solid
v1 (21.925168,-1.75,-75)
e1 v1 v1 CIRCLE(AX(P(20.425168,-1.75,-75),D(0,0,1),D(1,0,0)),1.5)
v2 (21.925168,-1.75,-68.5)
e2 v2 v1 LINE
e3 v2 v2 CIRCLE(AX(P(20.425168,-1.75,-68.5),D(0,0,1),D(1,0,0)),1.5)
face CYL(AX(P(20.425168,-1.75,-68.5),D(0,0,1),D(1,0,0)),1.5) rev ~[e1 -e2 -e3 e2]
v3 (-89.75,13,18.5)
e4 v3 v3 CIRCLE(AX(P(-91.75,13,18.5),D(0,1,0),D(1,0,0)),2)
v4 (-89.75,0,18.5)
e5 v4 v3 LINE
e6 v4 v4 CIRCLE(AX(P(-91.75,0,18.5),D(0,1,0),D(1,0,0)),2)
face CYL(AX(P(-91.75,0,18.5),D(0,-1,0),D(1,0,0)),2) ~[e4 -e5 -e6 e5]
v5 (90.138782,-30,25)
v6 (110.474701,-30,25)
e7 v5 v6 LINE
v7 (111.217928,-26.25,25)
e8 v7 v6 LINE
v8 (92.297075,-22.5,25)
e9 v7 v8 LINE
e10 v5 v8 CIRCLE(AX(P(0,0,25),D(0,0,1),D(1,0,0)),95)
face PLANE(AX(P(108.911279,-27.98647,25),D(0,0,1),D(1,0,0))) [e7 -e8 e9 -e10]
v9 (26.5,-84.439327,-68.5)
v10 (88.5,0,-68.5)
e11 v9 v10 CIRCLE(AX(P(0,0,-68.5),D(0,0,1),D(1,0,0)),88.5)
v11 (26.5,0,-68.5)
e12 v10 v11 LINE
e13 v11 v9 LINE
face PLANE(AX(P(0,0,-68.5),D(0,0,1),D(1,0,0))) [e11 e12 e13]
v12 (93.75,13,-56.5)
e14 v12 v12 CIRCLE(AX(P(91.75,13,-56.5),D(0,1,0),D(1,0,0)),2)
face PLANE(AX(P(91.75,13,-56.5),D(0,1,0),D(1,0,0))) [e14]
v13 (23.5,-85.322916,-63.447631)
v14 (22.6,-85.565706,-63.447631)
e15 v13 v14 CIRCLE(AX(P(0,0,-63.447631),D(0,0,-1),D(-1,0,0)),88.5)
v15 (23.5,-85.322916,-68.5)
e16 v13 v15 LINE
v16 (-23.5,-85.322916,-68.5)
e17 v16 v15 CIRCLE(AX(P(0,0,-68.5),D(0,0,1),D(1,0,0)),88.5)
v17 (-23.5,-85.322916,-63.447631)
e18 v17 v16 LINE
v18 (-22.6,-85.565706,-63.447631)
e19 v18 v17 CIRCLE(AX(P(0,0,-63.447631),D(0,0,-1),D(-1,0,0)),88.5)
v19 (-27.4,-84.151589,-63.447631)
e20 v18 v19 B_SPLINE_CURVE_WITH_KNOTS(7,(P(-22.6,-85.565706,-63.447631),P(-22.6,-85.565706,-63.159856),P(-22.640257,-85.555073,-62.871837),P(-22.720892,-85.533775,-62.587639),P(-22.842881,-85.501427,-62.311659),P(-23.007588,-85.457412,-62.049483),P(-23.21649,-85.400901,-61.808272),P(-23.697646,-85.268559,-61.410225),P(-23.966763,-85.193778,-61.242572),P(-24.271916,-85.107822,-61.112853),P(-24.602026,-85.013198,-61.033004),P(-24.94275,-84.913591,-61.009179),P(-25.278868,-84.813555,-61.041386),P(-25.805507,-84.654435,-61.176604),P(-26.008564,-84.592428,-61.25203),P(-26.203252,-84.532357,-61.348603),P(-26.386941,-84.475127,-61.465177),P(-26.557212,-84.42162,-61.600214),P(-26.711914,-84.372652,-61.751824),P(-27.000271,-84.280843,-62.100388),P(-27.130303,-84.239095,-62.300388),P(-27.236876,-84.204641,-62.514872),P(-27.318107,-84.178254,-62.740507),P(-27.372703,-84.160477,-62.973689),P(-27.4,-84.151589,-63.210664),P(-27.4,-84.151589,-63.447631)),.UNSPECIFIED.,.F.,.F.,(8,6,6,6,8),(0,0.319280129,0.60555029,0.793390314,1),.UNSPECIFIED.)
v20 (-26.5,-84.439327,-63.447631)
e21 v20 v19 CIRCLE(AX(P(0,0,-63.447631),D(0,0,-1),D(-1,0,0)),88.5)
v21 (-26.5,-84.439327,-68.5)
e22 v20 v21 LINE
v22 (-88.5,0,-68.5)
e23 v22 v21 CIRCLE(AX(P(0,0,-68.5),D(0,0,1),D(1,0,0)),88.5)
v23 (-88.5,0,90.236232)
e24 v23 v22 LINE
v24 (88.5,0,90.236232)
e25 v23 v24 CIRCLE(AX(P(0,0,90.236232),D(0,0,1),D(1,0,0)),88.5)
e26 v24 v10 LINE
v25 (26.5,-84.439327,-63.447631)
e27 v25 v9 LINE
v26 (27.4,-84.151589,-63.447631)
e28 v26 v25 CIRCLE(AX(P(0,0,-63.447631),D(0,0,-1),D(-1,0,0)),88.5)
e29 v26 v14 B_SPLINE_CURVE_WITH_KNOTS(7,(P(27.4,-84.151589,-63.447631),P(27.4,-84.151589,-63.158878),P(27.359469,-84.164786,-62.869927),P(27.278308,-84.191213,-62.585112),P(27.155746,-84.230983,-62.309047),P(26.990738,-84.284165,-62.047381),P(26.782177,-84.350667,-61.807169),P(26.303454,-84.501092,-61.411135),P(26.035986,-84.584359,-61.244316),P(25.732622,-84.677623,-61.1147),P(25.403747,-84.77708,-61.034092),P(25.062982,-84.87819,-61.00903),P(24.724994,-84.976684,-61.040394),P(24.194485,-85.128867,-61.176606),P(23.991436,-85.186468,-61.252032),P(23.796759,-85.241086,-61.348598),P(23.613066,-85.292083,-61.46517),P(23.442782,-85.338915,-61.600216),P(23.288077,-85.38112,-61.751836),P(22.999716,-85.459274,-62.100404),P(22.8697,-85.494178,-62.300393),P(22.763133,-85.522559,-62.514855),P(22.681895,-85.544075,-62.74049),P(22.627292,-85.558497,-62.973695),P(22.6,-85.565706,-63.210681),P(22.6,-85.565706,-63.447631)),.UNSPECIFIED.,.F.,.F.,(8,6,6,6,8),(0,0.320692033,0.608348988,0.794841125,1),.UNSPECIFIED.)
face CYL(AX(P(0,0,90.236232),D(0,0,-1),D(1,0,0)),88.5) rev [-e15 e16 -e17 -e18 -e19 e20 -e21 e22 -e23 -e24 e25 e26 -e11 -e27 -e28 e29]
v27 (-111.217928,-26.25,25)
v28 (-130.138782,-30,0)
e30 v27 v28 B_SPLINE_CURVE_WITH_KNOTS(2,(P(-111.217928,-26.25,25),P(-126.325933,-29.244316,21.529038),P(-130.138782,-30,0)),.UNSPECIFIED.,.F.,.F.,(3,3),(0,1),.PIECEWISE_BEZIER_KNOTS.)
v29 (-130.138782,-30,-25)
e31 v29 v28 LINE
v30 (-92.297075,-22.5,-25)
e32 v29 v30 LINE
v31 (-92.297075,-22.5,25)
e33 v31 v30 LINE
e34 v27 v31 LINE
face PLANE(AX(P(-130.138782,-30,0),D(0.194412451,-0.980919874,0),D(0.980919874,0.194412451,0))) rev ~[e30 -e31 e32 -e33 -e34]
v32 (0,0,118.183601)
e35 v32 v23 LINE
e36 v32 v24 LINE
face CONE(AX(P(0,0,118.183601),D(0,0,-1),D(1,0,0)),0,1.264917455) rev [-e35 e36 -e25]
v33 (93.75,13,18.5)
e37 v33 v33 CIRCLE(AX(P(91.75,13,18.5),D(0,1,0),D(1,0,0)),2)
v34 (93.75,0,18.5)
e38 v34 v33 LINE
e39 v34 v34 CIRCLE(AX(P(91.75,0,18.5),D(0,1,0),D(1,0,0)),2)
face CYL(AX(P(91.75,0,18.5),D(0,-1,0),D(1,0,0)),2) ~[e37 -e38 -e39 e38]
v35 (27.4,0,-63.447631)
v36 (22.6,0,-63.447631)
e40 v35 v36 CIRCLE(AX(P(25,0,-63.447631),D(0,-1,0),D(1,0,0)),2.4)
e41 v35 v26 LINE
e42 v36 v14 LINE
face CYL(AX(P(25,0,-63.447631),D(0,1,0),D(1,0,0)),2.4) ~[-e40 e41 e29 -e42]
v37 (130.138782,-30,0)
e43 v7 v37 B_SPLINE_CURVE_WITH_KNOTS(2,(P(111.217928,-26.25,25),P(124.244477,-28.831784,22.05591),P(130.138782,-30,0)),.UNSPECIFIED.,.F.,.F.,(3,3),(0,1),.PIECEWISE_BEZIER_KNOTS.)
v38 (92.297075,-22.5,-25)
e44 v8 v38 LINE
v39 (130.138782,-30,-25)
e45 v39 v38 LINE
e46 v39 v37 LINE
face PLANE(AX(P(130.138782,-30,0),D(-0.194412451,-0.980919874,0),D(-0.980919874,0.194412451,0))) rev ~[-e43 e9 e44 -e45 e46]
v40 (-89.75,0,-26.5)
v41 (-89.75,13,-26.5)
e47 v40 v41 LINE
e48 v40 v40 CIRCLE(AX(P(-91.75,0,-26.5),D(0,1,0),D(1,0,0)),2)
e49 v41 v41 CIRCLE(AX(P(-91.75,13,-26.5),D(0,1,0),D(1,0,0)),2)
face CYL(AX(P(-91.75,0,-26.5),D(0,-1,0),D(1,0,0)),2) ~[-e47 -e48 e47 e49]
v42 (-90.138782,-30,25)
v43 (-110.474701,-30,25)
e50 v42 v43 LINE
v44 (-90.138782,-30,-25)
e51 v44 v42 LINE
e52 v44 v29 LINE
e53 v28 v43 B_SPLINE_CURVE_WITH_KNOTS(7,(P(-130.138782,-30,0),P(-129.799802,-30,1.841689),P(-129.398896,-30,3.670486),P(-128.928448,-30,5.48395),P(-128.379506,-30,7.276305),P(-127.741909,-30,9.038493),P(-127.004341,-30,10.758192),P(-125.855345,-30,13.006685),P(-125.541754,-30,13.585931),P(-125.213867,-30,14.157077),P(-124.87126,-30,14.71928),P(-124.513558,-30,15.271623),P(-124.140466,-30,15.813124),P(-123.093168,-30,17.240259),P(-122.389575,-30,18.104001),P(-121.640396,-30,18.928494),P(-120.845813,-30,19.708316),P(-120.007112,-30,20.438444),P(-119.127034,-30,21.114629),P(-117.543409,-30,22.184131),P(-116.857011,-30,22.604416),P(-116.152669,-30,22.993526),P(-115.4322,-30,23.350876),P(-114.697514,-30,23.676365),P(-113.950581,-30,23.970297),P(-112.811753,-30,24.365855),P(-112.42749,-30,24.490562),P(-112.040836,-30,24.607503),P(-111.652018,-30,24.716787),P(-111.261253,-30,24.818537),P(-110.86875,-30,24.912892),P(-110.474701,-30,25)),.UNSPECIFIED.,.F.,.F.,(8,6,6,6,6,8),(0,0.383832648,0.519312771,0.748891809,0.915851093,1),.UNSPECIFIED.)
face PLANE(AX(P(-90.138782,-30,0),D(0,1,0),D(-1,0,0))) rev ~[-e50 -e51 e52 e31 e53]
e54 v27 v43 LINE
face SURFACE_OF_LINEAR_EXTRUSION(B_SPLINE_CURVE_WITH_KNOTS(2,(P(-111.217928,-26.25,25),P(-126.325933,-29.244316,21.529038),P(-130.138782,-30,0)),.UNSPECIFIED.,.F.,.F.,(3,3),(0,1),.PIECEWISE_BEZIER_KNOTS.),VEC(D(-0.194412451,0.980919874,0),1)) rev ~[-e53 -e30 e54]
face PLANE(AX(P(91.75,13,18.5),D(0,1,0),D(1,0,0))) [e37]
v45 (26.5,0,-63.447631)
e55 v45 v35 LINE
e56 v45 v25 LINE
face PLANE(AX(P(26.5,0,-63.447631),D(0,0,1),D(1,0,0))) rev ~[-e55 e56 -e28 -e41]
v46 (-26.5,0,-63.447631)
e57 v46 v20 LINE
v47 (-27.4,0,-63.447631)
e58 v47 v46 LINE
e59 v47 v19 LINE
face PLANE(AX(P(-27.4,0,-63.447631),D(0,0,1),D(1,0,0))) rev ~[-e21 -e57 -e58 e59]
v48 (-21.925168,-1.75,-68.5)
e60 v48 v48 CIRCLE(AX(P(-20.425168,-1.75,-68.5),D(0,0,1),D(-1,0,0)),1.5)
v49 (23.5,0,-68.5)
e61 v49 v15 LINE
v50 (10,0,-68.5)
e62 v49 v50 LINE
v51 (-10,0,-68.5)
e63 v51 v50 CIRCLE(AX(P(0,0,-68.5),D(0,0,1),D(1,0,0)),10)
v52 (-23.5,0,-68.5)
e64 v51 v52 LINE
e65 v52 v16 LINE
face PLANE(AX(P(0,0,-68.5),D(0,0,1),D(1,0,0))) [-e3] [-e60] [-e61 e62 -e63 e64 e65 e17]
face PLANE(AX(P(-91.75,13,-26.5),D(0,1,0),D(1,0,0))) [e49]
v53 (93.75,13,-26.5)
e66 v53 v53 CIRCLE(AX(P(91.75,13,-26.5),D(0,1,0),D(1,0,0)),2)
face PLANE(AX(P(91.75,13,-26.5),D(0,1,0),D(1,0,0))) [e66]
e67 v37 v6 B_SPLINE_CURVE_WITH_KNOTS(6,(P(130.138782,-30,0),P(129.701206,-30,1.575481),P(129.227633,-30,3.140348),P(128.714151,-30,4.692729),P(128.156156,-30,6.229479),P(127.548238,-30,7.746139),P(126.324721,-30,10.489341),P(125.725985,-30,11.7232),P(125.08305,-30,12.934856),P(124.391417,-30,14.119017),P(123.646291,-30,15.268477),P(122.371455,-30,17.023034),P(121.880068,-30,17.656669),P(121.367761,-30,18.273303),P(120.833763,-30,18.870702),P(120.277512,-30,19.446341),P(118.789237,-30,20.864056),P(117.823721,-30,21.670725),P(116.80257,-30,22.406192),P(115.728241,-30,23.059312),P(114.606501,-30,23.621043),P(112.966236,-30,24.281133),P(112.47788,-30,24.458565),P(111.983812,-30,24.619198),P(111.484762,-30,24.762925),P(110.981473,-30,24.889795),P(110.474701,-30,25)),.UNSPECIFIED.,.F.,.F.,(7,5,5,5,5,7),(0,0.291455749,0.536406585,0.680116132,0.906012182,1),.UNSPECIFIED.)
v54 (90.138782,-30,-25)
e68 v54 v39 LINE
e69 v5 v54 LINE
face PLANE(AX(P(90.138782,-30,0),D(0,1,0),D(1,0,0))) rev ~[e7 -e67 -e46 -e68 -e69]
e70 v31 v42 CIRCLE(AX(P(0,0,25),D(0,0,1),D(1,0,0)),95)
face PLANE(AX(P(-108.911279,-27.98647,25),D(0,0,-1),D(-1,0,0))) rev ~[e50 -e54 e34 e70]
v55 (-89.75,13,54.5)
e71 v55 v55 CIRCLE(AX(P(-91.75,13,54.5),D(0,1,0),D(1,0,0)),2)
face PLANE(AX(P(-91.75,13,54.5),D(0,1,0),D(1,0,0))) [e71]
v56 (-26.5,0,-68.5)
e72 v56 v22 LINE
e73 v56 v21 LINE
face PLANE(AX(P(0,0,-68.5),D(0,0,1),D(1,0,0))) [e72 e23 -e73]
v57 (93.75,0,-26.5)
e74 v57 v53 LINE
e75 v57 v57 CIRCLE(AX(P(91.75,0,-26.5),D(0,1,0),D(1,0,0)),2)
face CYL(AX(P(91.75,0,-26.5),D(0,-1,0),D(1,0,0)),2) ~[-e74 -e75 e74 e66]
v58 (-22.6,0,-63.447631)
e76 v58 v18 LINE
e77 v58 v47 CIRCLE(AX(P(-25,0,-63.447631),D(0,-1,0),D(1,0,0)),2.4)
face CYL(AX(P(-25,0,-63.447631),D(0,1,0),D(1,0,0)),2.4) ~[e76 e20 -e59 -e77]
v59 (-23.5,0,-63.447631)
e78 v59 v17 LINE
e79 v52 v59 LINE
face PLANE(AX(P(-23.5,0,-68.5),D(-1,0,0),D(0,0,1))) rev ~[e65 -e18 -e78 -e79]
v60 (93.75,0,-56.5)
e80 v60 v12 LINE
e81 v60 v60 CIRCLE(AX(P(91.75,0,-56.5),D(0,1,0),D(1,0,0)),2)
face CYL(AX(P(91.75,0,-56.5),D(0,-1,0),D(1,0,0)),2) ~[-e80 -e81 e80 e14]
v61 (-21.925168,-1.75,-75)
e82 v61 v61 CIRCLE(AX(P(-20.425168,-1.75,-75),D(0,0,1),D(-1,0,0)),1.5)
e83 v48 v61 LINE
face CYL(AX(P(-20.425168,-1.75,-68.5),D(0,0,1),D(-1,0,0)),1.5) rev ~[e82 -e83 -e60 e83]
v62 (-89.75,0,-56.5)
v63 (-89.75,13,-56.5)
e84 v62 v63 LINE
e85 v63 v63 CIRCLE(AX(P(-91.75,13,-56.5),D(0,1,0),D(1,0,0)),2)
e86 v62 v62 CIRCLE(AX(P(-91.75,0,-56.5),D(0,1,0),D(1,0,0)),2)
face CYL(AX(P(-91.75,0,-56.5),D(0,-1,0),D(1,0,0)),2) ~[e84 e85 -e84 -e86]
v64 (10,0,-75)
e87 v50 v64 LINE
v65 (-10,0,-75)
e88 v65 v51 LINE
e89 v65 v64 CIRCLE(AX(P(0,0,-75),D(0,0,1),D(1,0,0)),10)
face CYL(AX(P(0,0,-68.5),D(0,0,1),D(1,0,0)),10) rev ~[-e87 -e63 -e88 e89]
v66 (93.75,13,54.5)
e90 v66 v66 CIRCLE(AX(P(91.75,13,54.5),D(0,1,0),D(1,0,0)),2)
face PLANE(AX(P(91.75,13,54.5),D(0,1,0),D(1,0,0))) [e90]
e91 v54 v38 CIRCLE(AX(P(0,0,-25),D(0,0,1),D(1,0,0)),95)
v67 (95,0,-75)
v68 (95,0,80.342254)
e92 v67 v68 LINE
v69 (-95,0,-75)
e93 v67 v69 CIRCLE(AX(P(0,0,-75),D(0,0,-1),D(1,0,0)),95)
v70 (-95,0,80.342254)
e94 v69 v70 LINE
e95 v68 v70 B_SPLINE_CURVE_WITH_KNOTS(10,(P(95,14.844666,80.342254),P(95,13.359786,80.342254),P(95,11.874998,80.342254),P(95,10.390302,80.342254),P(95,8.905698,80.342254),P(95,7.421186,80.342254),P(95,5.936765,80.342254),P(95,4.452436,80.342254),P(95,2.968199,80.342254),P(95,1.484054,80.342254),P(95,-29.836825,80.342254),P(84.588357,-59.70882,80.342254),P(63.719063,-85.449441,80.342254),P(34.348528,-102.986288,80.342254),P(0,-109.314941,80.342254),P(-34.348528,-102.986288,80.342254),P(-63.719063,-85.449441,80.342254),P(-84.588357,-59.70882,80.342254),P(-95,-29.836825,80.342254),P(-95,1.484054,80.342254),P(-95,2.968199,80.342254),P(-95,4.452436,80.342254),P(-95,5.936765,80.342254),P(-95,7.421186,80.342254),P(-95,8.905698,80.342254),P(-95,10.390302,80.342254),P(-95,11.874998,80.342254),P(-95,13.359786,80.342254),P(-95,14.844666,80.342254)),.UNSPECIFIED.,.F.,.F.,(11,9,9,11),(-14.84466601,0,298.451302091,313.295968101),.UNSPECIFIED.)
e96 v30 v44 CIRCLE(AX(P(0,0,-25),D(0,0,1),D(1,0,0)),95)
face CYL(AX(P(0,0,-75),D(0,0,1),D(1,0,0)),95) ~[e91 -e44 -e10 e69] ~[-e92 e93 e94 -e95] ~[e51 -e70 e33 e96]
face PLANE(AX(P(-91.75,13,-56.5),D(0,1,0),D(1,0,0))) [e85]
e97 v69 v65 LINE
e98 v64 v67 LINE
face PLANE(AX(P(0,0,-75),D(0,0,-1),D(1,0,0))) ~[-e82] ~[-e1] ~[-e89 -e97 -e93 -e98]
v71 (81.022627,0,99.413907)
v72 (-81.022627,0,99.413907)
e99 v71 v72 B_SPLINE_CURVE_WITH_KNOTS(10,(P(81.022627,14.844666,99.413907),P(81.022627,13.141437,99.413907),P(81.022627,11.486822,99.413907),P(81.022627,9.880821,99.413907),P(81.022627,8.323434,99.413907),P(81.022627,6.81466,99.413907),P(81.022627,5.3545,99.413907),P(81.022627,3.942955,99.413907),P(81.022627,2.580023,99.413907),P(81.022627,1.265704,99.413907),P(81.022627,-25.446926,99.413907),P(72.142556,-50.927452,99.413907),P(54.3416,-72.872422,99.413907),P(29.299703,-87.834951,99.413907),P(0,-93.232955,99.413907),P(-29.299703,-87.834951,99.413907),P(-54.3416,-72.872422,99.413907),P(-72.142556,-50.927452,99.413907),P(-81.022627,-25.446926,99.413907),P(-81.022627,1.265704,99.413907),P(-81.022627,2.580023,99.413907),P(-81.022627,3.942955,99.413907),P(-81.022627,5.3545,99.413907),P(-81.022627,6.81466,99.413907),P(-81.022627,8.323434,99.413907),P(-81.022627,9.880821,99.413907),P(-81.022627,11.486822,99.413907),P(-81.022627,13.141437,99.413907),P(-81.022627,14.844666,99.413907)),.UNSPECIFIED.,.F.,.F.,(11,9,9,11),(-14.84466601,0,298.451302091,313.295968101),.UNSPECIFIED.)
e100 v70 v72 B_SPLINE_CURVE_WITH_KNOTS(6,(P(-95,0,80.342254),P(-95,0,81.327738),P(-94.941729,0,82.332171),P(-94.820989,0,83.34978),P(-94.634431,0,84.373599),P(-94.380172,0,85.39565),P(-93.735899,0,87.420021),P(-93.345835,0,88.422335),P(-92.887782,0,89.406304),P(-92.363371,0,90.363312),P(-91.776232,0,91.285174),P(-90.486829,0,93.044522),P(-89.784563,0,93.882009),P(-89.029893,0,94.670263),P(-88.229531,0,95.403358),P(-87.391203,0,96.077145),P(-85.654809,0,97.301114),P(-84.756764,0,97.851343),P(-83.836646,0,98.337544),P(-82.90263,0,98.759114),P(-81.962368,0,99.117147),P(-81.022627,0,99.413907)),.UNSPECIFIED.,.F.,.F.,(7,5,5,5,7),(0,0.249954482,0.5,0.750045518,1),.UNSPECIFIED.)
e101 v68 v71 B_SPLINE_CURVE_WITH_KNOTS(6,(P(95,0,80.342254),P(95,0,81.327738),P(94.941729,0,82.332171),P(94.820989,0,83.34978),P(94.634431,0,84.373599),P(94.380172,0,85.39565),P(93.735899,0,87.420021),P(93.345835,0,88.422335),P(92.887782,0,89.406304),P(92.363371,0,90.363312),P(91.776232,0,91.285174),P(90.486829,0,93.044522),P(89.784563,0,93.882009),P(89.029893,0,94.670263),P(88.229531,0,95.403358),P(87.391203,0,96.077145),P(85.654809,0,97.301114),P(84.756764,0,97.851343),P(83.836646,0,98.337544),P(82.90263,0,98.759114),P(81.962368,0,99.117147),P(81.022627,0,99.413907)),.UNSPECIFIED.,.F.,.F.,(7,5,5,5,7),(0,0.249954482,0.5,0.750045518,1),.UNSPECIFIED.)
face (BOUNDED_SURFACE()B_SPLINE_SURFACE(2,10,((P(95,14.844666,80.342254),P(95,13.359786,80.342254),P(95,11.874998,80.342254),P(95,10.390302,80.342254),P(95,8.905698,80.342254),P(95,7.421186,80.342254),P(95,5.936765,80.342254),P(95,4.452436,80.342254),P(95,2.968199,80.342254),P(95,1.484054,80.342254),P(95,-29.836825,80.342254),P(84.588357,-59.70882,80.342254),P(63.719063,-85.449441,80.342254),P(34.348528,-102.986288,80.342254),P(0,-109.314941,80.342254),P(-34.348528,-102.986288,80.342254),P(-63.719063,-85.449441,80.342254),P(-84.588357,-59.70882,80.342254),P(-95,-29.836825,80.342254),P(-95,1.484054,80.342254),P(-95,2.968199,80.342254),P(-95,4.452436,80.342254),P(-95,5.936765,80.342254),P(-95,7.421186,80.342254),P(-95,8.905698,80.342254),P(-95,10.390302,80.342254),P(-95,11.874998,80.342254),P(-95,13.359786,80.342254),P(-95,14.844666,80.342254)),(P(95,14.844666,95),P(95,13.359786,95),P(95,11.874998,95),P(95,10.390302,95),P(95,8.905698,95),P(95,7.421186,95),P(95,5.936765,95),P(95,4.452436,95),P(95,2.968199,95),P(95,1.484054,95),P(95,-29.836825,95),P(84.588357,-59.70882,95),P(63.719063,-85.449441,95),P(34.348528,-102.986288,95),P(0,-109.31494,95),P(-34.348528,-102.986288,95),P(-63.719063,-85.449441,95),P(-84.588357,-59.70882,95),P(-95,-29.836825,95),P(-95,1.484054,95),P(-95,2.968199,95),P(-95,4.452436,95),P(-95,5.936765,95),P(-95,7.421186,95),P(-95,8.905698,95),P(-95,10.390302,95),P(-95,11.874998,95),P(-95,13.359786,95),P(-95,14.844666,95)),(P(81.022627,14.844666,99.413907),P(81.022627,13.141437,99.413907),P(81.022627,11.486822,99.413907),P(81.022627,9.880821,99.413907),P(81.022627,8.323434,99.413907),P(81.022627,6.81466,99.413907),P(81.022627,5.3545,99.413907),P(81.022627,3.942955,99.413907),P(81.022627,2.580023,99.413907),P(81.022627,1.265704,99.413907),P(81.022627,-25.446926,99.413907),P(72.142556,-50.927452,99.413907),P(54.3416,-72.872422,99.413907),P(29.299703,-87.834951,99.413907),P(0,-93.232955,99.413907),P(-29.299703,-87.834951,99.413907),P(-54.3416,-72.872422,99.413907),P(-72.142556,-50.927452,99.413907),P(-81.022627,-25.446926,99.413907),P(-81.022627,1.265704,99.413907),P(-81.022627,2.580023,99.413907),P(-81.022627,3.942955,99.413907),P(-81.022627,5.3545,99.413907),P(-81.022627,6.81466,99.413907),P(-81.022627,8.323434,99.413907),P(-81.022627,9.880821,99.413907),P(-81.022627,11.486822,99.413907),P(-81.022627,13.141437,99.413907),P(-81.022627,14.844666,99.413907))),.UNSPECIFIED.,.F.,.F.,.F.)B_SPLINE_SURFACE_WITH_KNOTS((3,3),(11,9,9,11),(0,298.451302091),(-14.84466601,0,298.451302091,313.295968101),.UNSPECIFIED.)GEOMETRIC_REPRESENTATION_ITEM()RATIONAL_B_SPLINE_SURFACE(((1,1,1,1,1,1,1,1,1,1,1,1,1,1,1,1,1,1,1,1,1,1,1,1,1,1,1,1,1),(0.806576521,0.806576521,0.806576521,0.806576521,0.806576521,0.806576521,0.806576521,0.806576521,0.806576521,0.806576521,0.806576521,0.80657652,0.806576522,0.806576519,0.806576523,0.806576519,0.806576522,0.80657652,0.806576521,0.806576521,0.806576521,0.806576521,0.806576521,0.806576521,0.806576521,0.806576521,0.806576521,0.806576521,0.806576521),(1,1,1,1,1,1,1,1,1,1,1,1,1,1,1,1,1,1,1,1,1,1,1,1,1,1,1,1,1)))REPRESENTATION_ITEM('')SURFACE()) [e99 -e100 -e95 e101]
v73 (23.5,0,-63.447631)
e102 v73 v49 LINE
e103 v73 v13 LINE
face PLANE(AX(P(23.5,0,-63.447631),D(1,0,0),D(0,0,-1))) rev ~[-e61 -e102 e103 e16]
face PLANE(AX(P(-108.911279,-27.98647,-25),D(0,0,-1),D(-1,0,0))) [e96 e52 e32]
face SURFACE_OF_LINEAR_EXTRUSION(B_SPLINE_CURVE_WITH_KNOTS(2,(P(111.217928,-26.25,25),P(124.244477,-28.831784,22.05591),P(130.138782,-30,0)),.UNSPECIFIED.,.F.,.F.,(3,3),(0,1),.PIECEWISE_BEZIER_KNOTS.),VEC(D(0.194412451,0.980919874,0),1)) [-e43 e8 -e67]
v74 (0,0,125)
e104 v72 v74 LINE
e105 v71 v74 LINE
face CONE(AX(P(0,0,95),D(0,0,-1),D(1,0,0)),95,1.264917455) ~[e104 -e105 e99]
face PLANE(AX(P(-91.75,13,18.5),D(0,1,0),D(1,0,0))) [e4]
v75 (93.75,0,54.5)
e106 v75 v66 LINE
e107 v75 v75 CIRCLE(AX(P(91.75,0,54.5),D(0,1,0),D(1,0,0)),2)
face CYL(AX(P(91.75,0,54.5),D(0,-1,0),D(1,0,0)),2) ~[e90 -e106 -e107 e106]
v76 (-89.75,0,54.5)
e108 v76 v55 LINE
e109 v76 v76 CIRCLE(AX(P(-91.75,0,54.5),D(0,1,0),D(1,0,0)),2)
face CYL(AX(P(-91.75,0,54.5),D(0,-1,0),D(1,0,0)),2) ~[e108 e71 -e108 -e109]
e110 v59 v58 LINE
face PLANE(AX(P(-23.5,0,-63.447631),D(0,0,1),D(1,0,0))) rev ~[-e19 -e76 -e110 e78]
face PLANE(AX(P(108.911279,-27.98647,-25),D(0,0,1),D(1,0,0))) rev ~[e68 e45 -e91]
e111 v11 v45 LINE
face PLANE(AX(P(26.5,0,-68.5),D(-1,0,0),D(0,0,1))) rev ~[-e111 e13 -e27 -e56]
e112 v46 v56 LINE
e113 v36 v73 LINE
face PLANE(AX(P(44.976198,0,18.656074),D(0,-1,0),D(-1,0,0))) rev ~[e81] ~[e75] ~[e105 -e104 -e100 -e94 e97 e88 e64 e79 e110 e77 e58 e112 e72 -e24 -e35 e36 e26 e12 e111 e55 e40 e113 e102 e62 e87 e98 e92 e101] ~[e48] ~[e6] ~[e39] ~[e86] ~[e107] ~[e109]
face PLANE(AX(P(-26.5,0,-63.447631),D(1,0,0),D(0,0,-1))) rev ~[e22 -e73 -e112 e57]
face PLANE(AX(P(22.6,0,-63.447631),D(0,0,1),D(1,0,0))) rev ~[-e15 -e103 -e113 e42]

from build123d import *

# Parameters (mm, degrees)
REVOLVE1_ANGLE           = 180
SKETCH3_R                = 2
BOSS_EXTRUDE1_DEPTH      = 13
BOSS_EXTRUDE8_REACH      = 185.507
BOSS_EXTRUDE8_END_RADIUS = 88.5
SKETCH7_R                = 10
SKETCH7_R_2              = 1.5
CUT_EXTRUDE1_DEPTH       = 10
BOSS_EXTRUDE11_DEPTH     = 25
FILLET1_R                = 20
CUT_EXTRUDE2_DEPTH       = 10
CUT_EXTRUDE3_DEPTH       = 10


with BuildPart() as part:
    # Sketch1 → Revolve1 (revolve)
    with BuildSketch(Plane(origin=(0, 0, 0), x_dir=(1, 0, 0), z_dir=(0, 1, 0))):
        Polygon((0, 75), (95, 75), (95, -95), (0, -125), align=None)
    revolve(axis=Axis((0, 0, 125), (0, 0, -1)), revolution_arc=REVOLVE1_ANGLE)

    # Sketch2 → Cut-Revolve3 (revolve, cut)
    with BuildSketch(Plane(origin=(0, 0, 0), x_dir=(1, 0, 0), z_dir=(0, 1, 0))):
        Polygon((0, 68.5), (0, -118.183600921), (88.5, -90.2362325), (88.5, 68.5), align=None)
    revolve(axis=Axis((0, 0, -68.5), (0, 0, 1)), mode=Mode.SUBTRACT)

    # Sketch3 → Boss-Extrude1 (add)
    with BuildSketch(Plane(origin=(0, 0, 0), x_dir=(1, 0, 0), z_dir=(0, 1, 0))):
        with Locations((-91.75, 56.5)):
            Circle(SKETCH3_R)
        with Locations((-91.75, 26.5)):
            Circle(SKETCH3_R)
        with Locations((-91.75, -18.5)):
            Circle(SKETCH3_R)
        with Locations((-91.75, -54.5)):
            Circle(SKETCH3_R)
        with Locations((91.75, -54.5)):
            Circle(SKETCH3_R)
        with Locations((91.75, -18.5)):
            Circle(SKETCH3_R)
        with Locations((91.75, 26.5)):
            Circle(SKETCH3_R)
        with Locations((91.75, 56.5)):
            Circle(SKETCH3_R)
    extrude(amount=BOSS_EXTRUDE1_DEPTH)

    # Boss-Extrude8: up to this cylinder (the profile starts inside it)
    boss_extrude8_end = Plane(origin=(0, 0, -64.648778), z_dir=(0, 0, -1)) * Cylinder(BOSS_EXTRUDE8_END_RADIUS, 549.014, mode=Mode.PRIVATE)
    # Sketch5 → Boss-Extrude8 (add, up to the surface)
    with BuildSketch(Plane(origin=(0, 0, 0), x_dir=(1, 0, 0), z_dir=(0, 1, 0)), mode=Mode.PRIVATE) as boss_extrude8_sk1:
        with BuildLine():
            Line((23.5, 63.447630747), (23.5, 68.5))
            Line((23.5, 68.5), (26.5, 68.5))
            Line((26.5, 68.5), (26.5, 63.447630747))
            Line((26.5, 63.447630747), (27.4, 63.447630747))
            ThreePointArc((27.4, 63.447630747), (25, 61.047630747), (22.6, 63.447630747))
            Line((22.6, 63.447630747), (23.5, 63.447630747))
        make_face()
    boss_extrude8_tool1 = extrude(boss_extrude8_sk1.sketch, amount=-BOSS_EXTRUDE8_REACH, mode=Mode.PRIVATE) & boss_extrude8_end
    add(boss_extrude8_tool1.solids().sort_by_distance((25, 0, -64.648778))[0])
    # Sketch5 → Boss-Extrude8 (add, up to the surface)
    with BuildSketch(Plane(origin=(0, 0, 0), x_dir=(1, 0, 0), z_dir=(0, 1, 0)), mode=Mode.PRIVATE) as boss_extrude8_sk2:
        with BuildLine():
            Line((-27.4, 63.447630747), (-26.5, 63.447630747))
            Line((-26.5, 63.447630747), (-26.5, 68.5))
            Line((-26.5, 68.5), (-23.5, 68.5))
            Line((-23.5, 68.5), (-23.5, 63.447630747))
            Line((-23.5, 63.447630747), (-22.6, 63.447630747))
            ThreePointArc((-22.6, 63.447630747), (-25, 61.047630747), (-27.4, 63.447630747))
        make_face()
    boss_extrude8_tool2 = extrude(boss_extrude8_sk2.sketch, amount=-BOSS_EXTRUDE8_REACH, mode=Mode.PRIVATE) & boss_extrude8_end
    add(boss_extrude8_tool2.solids().sort_by_distance((-25, 0, -64.648778))[0])

    # Sketch7 → Cut-Extrude1 (cut)
    with BuildSketch(Plane.XY.offset(-68.5)):
        Circle(SKETCH7_R)
        with Locations((20.425168298, -1.75)):
            Circle(SKETCH7_R_2)
        with Locations(Location((-20.425168298, -1.75, 0), (0, 0, 180))):
            Circle(SKETCH7_R_2)
    extrude(amount=-CUT_EXTRUDE1_DEPTH, mode=Mode.SUBTRACT)

    # Sketch8 → Boss-Extrude11 (add, symmetric)
    with BuildSketch(Plane.XY):
        Polygon((90.138781887, -30), (130.138781887, -30), (92.29707471, -22.5), align=None)
        Polygon((-130.138781887, -30), (-92.29707471, -22.5), (-90.138781887, -30), align=None)
    extrude(amount=BOSS_EXTRUDE11_DEPTH, both=True)

    # Fillet1
    fillet1_edges = [part.edges().sort_by_distance(p)[0] for p in [
        (0, -95, 95),
    ]]
    fillet(fillet1_edges, radius=FILLET1_R)

    # Sketch9 → Cut-Extrude2 (cut)
    with BuildSketch(Plane(origin=(-0.802339529, -4.048253002, 0), x_dir=(0.9809198737827295, -0.19441245129382567, 0), z_dir=(0.19441245129382567, 0.9809198737827295, 0))):
        with BuildLine():
            Line((114.199203035, -25), (133.488091041, -25))
            Line((133.488091041, -25), (133.488091041, 0))
            add(Edge.make_bspline(
                [(114.199203035, -25), (127.479134843, -22.055909998), (133.488091041, 0)],
                knots=[0, 0, 0, 1, 1, 1], degree=2))
        make_face()
    extrude(amount=-CUT_EXTRUDE2_DEPTH, mode=Mode.SUBTRACT)

    # Sketch10 → Cut-Extrude3 (cut)
    with BuildSketch(Plane(origin=(0.802339529, -4.048253002, 0), x_dir=(0.9809198737827294, 0.1944124512938259, 0), z_dir=(-0.1944124512938259, 0.9809198737827294, 0))):
        with BuildLine():
            Line((-114.199203035, -25), (-133.488091041, -25))
            Line((-133.488091041, -25), (-133.488091041, 0))
            add(Edge.make_bspline(
                [(-114.199203035, -25), (-129.601076996, -21.529037797), (-133.488091041, 0)],
                knots=[0, 0, 0, 1, 1, 1], degree=2))
        make_face()
    extrude(amount=-CUT_EXTRUDE3_DEPTH, mode=Mode.SUBTRACT)


solid = part.part
